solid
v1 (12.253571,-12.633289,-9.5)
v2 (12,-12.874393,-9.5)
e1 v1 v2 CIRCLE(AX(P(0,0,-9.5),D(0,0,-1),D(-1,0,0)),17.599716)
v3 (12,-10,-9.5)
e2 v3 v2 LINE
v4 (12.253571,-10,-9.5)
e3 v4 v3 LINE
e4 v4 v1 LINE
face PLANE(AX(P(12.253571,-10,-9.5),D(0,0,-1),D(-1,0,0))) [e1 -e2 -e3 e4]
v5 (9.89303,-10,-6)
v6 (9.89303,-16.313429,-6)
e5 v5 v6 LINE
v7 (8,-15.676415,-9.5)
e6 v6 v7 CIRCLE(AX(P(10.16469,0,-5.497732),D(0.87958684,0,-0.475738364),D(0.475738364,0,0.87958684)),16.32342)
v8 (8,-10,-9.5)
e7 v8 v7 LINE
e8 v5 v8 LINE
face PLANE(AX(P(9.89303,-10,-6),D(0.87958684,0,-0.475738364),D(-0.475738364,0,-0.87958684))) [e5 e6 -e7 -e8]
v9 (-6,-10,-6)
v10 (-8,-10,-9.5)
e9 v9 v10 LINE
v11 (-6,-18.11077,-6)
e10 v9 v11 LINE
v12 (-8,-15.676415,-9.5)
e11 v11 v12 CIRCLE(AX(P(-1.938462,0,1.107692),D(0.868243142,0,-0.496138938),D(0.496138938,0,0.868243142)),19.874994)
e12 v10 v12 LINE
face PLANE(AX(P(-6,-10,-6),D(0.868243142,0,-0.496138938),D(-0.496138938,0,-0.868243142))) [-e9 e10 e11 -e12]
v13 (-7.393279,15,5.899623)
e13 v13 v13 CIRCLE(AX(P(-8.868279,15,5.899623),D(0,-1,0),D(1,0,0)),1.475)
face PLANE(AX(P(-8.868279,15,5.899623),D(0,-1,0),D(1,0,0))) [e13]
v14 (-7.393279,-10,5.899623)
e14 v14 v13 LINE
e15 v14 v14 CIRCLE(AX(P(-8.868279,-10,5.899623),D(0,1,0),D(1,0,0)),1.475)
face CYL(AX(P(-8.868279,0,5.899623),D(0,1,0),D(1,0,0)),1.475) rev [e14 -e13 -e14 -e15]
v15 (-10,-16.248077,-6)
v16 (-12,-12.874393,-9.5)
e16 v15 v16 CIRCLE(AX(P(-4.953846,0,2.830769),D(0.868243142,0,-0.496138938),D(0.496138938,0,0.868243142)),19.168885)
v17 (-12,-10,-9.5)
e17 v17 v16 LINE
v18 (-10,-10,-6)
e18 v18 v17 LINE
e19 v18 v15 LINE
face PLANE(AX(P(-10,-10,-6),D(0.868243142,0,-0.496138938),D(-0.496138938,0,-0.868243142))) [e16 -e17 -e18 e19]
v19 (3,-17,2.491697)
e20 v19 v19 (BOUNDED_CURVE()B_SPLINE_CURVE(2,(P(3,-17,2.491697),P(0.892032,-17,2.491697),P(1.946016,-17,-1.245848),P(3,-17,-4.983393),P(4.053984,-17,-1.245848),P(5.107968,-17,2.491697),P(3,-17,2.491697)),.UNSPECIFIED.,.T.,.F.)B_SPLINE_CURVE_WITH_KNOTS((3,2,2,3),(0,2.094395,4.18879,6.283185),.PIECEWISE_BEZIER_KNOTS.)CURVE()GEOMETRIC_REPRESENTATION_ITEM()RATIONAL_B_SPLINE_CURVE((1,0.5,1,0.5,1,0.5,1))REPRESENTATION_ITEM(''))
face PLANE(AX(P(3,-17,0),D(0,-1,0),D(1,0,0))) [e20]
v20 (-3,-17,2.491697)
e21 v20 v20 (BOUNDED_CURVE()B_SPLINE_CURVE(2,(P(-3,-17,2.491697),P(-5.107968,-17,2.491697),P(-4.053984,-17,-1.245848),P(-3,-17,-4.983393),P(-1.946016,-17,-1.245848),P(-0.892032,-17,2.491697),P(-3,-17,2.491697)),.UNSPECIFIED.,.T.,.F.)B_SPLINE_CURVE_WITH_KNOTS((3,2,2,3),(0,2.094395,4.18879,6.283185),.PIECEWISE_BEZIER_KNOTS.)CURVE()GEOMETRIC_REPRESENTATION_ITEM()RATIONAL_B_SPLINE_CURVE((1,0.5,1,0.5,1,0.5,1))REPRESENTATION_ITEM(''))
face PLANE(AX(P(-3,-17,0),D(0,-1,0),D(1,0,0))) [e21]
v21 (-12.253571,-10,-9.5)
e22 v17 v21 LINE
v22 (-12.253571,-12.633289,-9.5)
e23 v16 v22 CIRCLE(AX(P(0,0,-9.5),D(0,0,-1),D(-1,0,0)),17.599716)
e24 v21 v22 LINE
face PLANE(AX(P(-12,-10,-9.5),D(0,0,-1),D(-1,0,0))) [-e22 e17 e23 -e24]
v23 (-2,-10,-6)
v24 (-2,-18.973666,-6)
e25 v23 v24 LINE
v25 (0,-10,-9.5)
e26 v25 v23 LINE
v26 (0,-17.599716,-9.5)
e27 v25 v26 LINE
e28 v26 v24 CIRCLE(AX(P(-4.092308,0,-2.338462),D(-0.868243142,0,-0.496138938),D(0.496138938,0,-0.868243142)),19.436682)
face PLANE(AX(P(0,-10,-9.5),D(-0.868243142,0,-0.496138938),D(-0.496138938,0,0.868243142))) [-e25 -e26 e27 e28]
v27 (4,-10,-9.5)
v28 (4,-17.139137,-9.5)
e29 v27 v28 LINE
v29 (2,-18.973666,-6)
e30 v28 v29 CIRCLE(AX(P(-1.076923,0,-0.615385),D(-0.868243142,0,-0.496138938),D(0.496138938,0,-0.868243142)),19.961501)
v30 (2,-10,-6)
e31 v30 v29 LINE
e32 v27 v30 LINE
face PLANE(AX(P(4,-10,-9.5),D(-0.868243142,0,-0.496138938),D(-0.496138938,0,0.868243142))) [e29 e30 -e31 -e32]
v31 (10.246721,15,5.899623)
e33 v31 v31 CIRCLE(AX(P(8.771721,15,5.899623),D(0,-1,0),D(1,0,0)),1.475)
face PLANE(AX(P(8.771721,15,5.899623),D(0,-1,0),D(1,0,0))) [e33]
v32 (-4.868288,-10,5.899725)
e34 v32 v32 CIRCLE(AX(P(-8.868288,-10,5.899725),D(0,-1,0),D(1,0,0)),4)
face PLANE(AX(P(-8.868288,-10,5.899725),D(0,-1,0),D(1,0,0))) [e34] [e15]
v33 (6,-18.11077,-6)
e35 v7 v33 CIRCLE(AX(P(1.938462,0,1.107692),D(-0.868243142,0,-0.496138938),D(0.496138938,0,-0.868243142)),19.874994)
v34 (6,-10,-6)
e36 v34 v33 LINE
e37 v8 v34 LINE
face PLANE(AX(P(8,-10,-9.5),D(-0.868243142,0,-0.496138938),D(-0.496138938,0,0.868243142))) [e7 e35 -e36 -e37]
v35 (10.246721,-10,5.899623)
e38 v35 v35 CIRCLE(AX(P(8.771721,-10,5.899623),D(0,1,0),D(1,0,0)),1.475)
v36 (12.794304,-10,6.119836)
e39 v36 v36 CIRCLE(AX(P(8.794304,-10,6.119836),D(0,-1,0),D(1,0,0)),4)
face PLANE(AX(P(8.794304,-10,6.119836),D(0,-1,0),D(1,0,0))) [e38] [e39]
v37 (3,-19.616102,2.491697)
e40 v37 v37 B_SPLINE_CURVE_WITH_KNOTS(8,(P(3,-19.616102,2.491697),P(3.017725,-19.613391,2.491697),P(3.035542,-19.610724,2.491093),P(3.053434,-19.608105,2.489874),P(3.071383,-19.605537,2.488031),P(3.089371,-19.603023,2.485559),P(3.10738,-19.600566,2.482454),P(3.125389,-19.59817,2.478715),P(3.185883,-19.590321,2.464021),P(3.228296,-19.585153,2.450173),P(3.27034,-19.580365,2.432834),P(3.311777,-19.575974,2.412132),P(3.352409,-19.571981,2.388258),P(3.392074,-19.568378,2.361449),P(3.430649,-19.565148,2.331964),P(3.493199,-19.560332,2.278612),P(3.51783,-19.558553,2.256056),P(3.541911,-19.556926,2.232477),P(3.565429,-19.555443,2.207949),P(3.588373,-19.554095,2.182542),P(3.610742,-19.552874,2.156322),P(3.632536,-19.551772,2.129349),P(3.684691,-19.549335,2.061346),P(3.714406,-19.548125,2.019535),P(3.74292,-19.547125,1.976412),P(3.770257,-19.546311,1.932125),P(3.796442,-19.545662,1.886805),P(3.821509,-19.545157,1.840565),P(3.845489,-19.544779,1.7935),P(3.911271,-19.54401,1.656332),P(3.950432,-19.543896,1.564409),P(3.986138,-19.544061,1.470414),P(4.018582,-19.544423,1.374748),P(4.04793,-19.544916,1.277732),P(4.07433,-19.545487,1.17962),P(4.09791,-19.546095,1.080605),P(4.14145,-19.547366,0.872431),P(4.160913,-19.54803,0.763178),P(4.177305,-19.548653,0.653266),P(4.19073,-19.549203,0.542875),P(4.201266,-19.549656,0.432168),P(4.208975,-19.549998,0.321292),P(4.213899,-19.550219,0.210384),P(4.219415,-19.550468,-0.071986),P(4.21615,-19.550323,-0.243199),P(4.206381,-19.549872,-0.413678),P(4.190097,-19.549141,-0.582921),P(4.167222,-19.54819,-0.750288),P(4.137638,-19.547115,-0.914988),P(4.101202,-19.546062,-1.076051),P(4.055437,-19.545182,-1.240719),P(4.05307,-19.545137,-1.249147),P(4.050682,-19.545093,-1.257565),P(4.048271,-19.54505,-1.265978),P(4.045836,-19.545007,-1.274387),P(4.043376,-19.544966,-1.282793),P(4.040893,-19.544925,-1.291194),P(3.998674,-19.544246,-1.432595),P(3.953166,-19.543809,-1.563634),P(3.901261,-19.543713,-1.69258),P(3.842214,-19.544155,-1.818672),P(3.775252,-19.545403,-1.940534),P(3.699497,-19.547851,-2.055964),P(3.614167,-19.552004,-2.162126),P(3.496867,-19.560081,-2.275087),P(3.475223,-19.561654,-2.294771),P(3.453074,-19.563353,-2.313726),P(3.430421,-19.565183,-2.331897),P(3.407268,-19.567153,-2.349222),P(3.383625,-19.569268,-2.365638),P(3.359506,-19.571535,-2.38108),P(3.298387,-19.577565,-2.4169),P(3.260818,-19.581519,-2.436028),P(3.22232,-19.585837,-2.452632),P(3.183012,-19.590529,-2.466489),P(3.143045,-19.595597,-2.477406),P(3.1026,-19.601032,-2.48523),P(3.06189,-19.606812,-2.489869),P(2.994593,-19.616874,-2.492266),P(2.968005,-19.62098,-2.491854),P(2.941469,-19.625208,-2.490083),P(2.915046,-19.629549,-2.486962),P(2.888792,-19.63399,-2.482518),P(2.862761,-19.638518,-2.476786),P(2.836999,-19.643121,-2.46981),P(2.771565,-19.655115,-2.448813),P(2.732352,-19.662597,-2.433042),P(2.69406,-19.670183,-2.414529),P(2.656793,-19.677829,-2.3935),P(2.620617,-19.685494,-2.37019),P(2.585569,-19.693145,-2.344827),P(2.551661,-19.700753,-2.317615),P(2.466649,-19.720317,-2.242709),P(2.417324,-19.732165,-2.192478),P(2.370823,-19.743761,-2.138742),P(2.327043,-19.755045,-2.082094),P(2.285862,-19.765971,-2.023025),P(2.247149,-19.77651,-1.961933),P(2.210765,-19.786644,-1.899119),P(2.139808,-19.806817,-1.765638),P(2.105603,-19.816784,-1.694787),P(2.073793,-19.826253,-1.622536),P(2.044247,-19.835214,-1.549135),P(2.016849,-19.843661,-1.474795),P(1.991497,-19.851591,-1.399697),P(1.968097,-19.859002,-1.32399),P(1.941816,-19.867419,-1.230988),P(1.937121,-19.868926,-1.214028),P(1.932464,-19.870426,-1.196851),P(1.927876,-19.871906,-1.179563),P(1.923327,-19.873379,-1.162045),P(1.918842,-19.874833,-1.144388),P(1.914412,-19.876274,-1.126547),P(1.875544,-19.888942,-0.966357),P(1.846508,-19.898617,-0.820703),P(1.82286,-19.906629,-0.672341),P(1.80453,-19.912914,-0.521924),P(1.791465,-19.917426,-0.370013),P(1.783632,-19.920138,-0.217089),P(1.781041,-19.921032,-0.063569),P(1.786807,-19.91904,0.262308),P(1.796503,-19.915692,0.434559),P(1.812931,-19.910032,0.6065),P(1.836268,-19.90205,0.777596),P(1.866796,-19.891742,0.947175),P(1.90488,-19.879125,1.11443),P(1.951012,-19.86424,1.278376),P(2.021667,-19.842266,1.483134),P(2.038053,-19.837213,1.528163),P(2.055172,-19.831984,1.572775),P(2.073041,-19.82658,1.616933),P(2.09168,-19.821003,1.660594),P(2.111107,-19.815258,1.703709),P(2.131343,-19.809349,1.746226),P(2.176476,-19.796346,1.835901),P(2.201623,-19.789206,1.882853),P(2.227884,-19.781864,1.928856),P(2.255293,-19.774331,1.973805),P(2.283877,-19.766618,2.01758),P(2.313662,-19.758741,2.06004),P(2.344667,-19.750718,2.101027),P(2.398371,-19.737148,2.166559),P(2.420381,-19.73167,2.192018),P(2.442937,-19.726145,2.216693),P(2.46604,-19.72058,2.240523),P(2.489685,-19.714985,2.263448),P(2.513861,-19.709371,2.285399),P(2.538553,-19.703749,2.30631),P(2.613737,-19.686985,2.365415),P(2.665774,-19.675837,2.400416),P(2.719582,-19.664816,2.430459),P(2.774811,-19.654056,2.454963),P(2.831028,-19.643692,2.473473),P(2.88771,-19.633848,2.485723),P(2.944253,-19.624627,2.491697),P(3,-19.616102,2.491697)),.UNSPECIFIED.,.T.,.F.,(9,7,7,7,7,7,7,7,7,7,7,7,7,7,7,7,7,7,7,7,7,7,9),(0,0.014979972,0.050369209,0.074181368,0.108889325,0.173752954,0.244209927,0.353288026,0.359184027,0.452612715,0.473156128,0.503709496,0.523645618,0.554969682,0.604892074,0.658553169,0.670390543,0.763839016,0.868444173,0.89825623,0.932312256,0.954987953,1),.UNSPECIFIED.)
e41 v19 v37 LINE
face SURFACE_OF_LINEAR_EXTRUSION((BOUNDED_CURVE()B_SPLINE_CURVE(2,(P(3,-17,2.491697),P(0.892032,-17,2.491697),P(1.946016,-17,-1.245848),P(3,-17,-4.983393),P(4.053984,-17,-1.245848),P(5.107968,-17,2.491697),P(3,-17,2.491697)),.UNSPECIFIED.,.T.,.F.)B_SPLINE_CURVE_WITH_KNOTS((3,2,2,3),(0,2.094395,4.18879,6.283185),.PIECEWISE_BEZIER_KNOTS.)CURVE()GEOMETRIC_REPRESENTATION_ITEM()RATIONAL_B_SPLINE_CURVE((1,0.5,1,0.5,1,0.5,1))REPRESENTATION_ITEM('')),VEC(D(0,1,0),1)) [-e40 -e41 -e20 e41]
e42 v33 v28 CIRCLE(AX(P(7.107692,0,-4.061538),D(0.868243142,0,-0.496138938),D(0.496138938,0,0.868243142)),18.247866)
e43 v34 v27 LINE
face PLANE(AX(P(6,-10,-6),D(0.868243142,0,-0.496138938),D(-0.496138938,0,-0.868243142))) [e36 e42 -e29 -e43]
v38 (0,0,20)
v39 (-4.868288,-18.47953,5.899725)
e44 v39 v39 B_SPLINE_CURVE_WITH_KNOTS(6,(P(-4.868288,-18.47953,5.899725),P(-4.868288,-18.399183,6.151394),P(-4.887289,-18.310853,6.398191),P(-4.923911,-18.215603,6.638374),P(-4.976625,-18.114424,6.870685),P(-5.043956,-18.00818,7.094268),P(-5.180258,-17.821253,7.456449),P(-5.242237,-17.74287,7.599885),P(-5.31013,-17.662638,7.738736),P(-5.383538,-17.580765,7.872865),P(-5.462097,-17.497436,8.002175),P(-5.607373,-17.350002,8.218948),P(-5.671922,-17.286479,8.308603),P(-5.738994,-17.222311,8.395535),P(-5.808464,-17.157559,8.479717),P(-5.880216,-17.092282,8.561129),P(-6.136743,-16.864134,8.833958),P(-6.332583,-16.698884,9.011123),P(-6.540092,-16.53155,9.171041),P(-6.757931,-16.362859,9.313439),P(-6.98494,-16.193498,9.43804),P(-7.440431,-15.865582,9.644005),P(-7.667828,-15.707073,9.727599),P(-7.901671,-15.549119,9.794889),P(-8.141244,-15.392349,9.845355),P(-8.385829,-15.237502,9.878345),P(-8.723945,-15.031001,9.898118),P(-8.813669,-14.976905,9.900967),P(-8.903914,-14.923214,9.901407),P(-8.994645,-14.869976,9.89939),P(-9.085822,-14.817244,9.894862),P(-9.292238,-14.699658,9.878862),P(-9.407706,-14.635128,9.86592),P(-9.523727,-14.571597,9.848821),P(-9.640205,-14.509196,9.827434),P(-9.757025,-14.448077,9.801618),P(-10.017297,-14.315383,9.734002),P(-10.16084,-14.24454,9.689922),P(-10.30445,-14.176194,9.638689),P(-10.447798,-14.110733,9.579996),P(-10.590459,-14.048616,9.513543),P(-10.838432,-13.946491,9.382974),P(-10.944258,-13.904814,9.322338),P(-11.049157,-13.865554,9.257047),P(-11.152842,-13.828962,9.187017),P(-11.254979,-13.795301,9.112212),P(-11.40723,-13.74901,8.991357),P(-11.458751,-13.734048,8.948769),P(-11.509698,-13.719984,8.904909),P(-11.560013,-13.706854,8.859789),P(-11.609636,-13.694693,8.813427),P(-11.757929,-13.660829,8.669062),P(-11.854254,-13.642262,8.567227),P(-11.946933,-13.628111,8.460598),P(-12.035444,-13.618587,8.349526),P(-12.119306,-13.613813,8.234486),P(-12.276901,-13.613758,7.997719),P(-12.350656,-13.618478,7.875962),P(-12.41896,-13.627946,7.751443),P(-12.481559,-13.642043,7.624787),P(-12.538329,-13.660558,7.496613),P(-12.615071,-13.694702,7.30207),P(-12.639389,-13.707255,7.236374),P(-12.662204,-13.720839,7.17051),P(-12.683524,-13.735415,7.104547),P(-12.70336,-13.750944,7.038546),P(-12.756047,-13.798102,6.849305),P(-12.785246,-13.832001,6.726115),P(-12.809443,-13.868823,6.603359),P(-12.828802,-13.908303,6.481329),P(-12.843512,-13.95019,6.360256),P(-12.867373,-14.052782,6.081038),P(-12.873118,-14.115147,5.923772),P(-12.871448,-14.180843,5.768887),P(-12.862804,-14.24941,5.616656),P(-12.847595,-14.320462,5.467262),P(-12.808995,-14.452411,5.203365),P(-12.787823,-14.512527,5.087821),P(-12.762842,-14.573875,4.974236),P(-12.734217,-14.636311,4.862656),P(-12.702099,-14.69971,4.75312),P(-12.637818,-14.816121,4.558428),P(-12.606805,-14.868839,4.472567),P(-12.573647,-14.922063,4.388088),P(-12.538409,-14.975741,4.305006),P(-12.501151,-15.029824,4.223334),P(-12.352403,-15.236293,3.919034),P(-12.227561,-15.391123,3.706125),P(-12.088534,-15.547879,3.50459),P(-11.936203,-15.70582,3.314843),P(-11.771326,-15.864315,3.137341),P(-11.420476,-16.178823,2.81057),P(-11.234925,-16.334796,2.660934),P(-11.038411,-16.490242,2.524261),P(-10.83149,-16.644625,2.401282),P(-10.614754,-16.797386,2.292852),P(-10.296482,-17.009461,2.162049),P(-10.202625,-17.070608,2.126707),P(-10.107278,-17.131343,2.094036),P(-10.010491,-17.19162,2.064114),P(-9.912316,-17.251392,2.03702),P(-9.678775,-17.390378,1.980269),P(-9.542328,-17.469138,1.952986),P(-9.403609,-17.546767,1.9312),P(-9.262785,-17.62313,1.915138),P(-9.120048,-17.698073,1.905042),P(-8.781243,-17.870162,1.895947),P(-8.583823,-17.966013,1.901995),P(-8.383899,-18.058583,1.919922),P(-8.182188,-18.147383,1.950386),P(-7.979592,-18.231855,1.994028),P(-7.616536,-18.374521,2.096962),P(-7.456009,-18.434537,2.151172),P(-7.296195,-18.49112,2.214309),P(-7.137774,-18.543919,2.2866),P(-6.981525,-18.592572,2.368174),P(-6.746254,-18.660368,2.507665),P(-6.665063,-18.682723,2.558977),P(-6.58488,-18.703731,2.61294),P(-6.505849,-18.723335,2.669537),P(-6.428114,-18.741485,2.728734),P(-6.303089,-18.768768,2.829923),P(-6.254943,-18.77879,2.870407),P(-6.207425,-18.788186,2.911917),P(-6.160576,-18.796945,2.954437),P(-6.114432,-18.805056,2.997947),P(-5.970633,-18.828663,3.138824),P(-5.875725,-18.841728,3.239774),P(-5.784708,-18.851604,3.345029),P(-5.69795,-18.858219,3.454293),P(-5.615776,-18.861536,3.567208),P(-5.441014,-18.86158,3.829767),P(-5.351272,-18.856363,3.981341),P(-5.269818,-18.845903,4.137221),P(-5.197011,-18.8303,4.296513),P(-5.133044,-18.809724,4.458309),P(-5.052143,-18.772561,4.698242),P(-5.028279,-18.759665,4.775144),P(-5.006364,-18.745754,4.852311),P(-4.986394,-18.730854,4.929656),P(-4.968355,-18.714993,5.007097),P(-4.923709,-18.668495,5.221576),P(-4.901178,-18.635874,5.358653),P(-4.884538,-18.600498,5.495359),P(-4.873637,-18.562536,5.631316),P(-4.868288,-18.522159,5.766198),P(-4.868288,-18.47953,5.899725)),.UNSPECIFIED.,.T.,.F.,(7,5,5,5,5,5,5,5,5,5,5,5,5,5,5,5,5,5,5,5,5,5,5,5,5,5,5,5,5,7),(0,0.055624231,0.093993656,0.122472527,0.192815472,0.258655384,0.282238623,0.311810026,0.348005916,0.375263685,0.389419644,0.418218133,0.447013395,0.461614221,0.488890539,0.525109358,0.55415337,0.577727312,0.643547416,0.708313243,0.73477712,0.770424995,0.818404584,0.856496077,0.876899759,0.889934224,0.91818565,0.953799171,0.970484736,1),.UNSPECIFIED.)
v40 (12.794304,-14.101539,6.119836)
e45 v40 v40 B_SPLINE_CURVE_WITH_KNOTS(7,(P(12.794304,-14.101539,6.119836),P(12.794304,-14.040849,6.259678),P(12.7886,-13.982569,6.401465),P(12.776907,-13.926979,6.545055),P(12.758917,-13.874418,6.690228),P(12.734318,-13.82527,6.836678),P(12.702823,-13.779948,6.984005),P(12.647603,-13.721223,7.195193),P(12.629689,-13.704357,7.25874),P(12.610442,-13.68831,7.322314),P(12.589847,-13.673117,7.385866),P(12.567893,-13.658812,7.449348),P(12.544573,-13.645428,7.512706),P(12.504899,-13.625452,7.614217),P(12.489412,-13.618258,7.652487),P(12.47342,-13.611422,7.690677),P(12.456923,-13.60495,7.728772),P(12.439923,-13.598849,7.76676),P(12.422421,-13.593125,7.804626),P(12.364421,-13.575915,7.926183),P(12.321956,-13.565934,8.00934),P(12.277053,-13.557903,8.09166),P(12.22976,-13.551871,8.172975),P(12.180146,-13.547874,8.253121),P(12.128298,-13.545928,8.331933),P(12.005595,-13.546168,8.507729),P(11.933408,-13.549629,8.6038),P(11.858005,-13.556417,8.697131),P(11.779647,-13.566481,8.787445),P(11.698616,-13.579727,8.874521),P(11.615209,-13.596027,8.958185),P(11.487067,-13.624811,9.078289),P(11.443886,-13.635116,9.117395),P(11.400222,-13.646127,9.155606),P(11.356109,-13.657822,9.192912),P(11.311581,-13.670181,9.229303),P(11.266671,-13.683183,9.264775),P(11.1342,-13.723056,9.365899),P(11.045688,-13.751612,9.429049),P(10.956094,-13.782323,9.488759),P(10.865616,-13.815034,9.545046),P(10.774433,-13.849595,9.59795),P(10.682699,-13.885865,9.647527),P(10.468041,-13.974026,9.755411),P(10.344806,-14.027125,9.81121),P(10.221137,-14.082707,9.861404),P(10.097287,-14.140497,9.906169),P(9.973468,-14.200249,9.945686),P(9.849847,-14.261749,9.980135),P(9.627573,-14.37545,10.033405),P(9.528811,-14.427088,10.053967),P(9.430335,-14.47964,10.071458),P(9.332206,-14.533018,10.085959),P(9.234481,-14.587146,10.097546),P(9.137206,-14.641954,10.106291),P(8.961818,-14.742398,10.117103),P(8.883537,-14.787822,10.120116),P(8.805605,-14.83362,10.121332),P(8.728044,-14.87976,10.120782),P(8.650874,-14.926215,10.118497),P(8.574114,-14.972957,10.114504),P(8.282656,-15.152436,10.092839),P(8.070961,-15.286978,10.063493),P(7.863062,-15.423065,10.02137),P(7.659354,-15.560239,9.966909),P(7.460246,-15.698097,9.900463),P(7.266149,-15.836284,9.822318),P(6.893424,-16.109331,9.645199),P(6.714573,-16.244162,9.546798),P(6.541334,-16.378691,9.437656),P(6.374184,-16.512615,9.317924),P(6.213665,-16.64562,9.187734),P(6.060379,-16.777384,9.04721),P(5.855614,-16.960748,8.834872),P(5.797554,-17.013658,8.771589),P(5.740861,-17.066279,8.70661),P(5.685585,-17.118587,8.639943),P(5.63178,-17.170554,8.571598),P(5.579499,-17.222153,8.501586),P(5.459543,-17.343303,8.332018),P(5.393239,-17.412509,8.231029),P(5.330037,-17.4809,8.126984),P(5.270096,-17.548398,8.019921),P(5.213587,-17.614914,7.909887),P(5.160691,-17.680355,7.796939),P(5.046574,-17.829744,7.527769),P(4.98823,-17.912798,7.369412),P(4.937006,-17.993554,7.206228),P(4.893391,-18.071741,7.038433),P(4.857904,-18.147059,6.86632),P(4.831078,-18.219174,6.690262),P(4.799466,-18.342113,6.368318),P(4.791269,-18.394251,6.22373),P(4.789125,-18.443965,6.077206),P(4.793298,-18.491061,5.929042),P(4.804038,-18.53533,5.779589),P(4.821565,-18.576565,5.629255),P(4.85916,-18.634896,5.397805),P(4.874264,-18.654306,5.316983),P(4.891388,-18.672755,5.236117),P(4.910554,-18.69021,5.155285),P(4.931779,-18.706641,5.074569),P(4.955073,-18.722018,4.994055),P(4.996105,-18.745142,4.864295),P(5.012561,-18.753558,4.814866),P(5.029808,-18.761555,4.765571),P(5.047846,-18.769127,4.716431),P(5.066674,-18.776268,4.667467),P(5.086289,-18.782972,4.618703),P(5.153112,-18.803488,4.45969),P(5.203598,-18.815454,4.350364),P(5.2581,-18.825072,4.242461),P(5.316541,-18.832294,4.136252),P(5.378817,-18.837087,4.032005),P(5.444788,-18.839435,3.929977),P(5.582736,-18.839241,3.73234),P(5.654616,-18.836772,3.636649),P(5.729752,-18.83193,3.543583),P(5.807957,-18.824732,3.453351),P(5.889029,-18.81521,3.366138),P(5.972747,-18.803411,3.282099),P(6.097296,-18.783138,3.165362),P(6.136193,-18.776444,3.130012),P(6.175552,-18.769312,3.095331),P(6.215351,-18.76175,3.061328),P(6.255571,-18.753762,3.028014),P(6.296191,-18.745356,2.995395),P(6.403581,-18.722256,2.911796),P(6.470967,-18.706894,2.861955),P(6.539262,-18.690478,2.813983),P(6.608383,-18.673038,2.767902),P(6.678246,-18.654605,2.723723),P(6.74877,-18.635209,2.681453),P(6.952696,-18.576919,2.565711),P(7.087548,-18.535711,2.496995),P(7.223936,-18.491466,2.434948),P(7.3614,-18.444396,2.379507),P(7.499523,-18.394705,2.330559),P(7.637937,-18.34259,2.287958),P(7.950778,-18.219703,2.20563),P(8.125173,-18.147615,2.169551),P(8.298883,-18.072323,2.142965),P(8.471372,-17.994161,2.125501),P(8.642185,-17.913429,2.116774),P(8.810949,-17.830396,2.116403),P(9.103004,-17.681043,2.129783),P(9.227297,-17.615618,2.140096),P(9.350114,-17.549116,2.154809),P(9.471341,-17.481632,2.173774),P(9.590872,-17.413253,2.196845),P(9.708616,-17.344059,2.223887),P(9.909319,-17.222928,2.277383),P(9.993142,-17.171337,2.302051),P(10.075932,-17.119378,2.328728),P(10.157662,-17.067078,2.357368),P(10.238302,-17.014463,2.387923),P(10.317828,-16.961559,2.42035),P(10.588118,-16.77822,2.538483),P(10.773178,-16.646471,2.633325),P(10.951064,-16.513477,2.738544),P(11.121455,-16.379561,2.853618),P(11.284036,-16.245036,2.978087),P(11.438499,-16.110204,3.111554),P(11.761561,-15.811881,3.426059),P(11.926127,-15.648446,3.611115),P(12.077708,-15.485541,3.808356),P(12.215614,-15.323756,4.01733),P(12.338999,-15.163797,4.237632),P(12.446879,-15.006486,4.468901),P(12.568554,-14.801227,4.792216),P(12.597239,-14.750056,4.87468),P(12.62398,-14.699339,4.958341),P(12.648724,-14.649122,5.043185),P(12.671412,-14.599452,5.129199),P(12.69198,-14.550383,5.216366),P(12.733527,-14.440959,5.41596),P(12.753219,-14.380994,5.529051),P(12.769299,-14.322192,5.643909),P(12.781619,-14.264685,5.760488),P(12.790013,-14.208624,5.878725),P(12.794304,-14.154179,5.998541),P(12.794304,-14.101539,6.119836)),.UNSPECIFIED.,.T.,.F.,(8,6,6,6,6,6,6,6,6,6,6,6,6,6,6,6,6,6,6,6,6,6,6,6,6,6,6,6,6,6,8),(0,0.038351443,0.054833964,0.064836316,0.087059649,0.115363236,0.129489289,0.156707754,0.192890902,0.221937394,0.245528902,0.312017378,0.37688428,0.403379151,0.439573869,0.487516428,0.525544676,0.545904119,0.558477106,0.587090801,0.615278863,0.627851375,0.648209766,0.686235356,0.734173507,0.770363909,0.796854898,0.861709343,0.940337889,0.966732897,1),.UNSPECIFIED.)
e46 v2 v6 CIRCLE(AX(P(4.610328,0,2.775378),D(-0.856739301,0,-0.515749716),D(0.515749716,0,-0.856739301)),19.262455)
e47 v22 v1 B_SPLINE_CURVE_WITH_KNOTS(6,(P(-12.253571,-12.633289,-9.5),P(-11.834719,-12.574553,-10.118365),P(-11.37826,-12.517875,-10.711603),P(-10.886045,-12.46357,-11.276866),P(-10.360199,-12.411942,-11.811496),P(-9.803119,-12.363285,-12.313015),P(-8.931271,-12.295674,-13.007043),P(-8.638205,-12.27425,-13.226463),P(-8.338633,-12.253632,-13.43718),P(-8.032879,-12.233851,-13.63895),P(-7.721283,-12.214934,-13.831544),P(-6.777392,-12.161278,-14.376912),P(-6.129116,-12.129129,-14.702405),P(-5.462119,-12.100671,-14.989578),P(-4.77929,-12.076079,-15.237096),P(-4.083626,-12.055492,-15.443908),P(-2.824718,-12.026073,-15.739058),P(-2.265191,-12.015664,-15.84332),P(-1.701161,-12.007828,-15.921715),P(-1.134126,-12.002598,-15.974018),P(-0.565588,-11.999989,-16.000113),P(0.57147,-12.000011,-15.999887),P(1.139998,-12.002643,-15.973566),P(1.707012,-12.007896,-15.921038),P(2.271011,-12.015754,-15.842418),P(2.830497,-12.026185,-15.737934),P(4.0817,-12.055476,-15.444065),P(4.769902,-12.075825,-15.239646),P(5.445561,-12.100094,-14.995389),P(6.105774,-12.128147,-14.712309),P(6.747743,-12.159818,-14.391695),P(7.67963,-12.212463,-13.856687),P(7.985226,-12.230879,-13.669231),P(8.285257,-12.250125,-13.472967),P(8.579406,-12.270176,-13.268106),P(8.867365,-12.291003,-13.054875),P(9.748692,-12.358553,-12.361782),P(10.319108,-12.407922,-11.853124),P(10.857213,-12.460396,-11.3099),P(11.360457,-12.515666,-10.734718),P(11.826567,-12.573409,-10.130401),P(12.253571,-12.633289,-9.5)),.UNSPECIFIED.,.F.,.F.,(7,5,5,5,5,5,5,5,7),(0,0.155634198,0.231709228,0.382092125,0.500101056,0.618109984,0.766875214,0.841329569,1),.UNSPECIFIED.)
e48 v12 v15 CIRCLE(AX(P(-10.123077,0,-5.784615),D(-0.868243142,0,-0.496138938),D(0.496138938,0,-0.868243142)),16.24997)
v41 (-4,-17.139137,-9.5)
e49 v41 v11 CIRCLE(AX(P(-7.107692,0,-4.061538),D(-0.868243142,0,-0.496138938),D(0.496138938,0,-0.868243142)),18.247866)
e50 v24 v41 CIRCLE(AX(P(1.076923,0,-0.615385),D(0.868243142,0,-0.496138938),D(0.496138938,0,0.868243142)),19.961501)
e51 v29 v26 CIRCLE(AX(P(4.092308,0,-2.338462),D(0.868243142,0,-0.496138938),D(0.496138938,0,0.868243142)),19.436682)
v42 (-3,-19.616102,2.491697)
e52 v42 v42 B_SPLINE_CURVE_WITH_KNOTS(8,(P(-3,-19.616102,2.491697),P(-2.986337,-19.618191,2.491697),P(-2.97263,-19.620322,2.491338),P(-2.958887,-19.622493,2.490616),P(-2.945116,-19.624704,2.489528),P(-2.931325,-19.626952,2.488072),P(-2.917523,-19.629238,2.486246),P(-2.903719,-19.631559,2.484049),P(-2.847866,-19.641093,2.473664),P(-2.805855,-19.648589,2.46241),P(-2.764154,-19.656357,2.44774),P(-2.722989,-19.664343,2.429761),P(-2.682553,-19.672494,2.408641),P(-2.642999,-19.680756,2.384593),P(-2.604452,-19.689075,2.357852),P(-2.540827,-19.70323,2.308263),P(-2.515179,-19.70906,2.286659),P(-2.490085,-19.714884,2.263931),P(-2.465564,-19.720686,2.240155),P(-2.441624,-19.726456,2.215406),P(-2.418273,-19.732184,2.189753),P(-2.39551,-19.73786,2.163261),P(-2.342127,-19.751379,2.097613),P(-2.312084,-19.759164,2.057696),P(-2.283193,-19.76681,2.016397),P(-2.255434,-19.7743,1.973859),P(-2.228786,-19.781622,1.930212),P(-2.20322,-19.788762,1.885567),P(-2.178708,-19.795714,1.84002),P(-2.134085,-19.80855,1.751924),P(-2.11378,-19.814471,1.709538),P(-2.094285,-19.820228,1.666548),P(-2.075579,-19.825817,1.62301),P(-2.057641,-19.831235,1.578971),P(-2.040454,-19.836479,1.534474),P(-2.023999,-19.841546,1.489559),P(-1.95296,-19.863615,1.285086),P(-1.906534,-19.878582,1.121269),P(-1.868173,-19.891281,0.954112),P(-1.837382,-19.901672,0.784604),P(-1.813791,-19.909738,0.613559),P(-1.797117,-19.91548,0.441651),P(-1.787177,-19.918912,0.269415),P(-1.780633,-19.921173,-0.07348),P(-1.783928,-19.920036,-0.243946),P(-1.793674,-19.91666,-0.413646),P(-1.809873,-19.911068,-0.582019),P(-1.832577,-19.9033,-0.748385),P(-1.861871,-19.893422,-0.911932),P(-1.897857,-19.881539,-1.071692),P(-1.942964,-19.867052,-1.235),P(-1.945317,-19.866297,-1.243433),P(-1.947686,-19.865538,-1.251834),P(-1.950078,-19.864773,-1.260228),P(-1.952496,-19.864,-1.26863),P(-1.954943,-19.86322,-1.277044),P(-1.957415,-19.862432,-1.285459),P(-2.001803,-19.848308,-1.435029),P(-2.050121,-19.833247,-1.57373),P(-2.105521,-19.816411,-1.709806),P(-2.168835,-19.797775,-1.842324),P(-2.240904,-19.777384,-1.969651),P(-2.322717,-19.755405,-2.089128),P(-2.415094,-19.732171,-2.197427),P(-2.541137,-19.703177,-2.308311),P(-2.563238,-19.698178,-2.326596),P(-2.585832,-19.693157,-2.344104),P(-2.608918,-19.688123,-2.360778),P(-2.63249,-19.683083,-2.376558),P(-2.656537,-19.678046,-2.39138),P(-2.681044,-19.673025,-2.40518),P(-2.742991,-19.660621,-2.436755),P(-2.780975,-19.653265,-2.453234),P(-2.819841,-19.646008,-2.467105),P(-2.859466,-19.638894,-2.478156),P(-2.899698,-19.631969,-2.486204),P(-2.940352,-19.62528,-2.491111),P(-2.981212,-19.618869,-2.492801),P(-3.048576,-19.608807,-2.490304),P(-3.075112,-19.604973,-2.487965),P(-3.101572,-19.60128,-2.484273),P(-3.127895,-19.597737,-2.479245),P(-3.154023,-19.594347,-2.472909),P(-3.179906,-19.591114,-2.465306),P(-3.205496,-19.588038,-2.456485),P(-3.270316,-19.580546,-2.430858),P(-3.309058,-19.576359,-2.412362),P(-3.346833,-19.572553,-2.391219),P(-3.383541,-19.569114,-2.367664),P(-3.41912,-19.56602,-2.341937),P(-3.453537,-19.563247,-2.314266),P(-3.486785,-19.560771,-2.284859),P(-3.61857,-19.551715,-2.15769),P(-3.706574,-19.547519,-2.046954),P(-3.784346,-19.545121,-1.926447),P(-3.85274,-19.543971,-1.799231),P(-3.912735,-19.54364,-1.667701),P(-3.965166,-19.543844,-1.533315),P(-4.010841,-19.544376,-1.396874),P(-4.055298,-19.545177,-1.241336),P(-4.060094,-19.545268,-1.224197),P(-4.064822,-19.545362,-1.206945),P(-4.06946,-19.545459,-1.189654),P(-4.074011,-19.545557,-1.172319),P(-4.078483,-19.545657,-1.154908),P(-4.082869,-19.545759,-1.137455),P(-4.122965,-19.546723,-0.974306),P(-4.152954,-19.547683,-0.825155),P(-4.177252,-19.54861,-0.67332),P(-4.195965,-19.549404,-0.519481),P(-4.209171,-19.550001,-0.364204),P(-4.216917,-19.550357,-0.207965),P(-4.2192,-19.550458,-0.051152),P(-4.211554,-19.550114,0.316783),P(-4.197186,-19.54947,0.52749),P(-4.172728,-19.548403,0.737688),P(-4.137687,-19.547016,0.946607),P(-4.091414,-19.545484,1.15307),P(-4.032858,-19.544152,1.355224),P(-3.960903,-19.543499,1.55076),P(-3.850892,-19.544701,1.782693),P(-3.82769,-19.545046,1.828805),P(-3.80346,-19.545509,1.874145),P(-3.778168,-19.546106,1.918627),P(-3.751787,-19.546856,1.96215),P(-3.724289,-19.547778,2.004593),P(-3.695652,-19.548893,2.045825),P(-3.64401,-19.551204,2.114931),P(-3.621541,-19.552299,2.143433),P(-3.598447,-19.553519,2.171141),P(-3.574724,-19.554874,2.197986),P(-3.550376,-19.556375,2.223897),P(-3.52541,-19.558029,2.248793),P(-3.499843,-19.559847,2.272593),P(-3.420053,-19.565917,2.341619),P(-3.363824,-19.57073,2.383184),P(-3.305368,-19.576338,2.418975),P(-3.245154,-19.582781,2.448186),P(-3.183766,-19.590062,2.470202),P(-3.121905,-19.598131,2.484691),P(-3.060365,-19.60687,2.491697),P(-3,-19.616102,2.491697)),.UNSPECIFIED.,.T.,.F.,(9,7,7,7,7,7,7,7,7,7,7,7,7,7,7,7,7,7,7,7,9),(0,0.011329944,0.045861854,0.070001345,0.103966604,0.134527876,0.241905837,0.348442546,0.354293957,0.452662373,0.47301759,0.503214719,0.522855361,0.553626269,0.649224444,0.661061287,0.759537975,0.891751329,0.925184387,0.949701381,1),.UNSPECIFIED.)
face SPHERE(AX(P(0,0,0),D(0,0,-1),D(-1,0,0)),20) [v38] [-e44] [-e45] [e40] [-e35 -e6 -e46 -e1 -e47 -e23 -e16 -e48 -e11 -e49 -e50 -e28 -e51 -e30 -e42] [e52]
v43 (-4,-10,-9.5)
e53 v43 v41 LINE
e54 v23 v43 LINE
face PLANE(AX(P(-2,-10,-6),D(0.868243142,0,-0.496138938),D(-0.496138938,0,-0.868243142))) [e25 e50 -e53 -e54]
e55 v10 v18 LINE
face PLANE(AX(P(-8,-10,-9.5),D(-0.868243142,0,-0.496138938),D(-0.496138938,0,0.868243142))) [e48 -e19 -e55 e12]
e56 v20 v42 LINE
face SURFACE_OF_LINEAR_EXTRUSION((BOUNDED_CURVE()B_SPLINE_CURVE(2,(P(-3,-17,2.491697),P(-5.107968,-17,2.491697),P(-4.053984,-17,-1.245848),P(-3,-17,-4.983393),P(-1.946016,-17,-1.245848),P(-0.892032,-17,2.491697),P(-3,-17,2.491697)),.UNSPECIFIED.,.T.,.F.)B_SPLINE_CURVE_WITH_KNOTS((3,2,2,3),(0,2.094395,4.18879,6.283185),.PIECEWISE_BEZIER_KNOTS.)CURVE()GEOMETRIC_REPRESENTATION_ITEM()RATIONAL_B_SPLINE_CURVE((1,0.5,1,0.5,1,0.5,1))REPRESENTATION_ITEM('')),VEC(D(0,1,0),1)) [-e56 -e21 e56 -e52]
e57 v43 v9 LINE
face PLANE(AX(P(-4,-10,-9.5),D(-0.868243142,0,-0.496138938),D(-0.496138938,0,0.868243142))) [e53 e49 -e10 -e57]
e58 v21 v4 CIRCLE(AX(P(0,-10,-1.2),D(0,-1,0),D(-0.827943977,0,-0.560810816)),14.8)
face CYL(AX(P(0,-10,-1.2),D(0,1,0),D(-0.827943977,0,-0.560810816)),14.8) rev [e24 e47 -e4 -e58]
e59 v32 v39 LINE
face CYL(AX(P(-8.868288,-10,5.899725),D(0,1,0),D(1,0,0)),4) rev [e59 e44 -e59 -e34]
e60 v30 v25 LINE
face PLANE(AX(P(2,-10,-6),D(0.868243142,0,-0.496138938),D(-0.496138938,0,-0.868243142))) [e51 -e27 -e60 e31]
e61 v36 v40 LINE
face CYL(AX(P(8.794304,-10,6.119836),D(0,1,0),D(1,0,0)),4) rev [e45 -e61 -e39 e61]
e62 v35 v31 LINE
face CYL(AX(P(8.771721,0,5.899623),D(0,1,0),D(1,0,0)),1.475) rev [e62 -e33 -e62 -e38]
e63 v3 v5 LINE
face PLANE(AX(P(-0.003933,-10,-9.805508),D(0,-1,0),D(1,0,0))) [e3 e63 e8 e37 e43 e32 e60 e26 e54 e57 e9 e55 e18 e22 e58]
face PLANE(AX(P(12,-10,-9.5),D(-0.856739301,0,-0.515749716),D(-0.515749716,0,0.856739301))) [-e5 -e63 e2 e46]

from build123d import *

# Parameters (mm, degrees)
F3_R      = 4
F4_DEPTH  = 10
F7_DEPTH  = 25
F9_DEPTH  = 25
F10_R     = 1.475
F11_DEPTH = 15
F12_DEPTH = 25


with BuildPart() as f1:
    # F0 (on Front) → F1 (revolve)
    with BuildSketch(Plane.XZ):
        with BuildLine():
            Line((0, 0), (0, 20))
            ThreePointArc((0, 20), (-20, 0), (0, -20))
            Line((0, -20), (0, 0))
        make_face()
    revolve(axis=Axis((0, 0, -10), (0, 0, -1)))

    # F3 (on offset) → F4 (cut)
    with BuildSketch(Plane.XZ.offset(10)):
        with Locations((-8.868288, 5.899725)):
            Circle(F3_R)
        with Locations((8.794304, 6.119836)):
            Circle(F3_R)
    extrude(amount=F4_DEPTH, mode=Mode.SUBTRACT)

    # F6 (on offset) → F7 (cut)
    with BuildSketch(Plane.XZ.offset(17)):
        with BuildLine():
            add(Edge.make_bspline(
                [(-3, 2.491697), (-5.107968, 2.491697), (-4.053984, -1.245848), (-3, -4.983393), (-1.946016, -1.245848), (-0.892032, 2.491697), (-3, 2.491697)],
                knots=[0, 0, 0, 2.094395, 2.094395, 4.18879, 4.18879, 6.283185, 6.283185, 6.283185], degree=2, weights=[1, 0.5, 1, 0.5, 1, 0.5, 1]))
        make_face()
        with BuildLine():
            add(Edge.make_bspline(
                [(3, 2.491697), (0.892032, 2.491697), (1.946016, -1.245848), (3, -4.983393), (4.053984, -1.245848), (5.107968, 2.491697), (3, 2.491697)],
                knots=[0, 0, 0, 2.094395, 2.094395, 4.18879, 4.18879, 6.283185, 6.283185, 6.283185], degree=2, weights=[1, 0.5, 1, 0.5, 1, 0.5, 1]))
        make_face()
    extrude(amount=F7_DEPTH, mode=Mode.SUBTRACT)

    # F8 (on offset) → F9 (cut)
    with BuildSketch(Plane.XZ.offset(10)):
        with BuildLine():
            Line((-12, -9.5), (-12.253571, -9.5))
            ThreePointArc((-12.253571, -9.5), (0, -16), (12.253571, -9.5))
            Line((12.253571, -9.5), (12, -9.5))
            Line((12, -9.5), (9.89303, -6))
            Line((9.89303, -6), (8, -9.5))
            Line((8, -9.5), (6, -6))
            Line((6, -6), (4, -9.5))
            Line((4, -9.5), (2, -6))
            Line((2, -6), (0, -9.5))
            Line((0, -9.5), (-2, -6))
            Line((-2, -6), (-4, -9.5))
            Line((-4, -9.5), (-6, -6))
            Line((-6, -6), (-8, -9.5))
            Line((-8, -9.5), (-10, -6))
            Line((-10, -6), (-12, -9.5))
        make_face()
    extrude(amount=F9_DEPTH, mode=Mode.SUBTRACT)

    # F10 (on Front) → F11 (cut)
    with BuildSketch(Plane.XZ):
        with Locations((-8.868279, 5.899623)):
            Circle(F10_R)
        with Locations((8.771721, 5.899623)):
            Circle(F10_R)
    extrude(amount=-F11_DEPTH, mode=Mode.SUBTRACT)

    # F10 (on Front) → F12 (cut)
    with BuildSketch(Plane.XZ):
        with Locations((-8.868279, 5.899623)):
            Circle(F10_R)
        with Locations((8.771721, 5.899623)):
            Circle(F10_R)
    extrude(amount=F12_DEPTH, mode=Mode.SUBTRACT)


solid = f1.part
